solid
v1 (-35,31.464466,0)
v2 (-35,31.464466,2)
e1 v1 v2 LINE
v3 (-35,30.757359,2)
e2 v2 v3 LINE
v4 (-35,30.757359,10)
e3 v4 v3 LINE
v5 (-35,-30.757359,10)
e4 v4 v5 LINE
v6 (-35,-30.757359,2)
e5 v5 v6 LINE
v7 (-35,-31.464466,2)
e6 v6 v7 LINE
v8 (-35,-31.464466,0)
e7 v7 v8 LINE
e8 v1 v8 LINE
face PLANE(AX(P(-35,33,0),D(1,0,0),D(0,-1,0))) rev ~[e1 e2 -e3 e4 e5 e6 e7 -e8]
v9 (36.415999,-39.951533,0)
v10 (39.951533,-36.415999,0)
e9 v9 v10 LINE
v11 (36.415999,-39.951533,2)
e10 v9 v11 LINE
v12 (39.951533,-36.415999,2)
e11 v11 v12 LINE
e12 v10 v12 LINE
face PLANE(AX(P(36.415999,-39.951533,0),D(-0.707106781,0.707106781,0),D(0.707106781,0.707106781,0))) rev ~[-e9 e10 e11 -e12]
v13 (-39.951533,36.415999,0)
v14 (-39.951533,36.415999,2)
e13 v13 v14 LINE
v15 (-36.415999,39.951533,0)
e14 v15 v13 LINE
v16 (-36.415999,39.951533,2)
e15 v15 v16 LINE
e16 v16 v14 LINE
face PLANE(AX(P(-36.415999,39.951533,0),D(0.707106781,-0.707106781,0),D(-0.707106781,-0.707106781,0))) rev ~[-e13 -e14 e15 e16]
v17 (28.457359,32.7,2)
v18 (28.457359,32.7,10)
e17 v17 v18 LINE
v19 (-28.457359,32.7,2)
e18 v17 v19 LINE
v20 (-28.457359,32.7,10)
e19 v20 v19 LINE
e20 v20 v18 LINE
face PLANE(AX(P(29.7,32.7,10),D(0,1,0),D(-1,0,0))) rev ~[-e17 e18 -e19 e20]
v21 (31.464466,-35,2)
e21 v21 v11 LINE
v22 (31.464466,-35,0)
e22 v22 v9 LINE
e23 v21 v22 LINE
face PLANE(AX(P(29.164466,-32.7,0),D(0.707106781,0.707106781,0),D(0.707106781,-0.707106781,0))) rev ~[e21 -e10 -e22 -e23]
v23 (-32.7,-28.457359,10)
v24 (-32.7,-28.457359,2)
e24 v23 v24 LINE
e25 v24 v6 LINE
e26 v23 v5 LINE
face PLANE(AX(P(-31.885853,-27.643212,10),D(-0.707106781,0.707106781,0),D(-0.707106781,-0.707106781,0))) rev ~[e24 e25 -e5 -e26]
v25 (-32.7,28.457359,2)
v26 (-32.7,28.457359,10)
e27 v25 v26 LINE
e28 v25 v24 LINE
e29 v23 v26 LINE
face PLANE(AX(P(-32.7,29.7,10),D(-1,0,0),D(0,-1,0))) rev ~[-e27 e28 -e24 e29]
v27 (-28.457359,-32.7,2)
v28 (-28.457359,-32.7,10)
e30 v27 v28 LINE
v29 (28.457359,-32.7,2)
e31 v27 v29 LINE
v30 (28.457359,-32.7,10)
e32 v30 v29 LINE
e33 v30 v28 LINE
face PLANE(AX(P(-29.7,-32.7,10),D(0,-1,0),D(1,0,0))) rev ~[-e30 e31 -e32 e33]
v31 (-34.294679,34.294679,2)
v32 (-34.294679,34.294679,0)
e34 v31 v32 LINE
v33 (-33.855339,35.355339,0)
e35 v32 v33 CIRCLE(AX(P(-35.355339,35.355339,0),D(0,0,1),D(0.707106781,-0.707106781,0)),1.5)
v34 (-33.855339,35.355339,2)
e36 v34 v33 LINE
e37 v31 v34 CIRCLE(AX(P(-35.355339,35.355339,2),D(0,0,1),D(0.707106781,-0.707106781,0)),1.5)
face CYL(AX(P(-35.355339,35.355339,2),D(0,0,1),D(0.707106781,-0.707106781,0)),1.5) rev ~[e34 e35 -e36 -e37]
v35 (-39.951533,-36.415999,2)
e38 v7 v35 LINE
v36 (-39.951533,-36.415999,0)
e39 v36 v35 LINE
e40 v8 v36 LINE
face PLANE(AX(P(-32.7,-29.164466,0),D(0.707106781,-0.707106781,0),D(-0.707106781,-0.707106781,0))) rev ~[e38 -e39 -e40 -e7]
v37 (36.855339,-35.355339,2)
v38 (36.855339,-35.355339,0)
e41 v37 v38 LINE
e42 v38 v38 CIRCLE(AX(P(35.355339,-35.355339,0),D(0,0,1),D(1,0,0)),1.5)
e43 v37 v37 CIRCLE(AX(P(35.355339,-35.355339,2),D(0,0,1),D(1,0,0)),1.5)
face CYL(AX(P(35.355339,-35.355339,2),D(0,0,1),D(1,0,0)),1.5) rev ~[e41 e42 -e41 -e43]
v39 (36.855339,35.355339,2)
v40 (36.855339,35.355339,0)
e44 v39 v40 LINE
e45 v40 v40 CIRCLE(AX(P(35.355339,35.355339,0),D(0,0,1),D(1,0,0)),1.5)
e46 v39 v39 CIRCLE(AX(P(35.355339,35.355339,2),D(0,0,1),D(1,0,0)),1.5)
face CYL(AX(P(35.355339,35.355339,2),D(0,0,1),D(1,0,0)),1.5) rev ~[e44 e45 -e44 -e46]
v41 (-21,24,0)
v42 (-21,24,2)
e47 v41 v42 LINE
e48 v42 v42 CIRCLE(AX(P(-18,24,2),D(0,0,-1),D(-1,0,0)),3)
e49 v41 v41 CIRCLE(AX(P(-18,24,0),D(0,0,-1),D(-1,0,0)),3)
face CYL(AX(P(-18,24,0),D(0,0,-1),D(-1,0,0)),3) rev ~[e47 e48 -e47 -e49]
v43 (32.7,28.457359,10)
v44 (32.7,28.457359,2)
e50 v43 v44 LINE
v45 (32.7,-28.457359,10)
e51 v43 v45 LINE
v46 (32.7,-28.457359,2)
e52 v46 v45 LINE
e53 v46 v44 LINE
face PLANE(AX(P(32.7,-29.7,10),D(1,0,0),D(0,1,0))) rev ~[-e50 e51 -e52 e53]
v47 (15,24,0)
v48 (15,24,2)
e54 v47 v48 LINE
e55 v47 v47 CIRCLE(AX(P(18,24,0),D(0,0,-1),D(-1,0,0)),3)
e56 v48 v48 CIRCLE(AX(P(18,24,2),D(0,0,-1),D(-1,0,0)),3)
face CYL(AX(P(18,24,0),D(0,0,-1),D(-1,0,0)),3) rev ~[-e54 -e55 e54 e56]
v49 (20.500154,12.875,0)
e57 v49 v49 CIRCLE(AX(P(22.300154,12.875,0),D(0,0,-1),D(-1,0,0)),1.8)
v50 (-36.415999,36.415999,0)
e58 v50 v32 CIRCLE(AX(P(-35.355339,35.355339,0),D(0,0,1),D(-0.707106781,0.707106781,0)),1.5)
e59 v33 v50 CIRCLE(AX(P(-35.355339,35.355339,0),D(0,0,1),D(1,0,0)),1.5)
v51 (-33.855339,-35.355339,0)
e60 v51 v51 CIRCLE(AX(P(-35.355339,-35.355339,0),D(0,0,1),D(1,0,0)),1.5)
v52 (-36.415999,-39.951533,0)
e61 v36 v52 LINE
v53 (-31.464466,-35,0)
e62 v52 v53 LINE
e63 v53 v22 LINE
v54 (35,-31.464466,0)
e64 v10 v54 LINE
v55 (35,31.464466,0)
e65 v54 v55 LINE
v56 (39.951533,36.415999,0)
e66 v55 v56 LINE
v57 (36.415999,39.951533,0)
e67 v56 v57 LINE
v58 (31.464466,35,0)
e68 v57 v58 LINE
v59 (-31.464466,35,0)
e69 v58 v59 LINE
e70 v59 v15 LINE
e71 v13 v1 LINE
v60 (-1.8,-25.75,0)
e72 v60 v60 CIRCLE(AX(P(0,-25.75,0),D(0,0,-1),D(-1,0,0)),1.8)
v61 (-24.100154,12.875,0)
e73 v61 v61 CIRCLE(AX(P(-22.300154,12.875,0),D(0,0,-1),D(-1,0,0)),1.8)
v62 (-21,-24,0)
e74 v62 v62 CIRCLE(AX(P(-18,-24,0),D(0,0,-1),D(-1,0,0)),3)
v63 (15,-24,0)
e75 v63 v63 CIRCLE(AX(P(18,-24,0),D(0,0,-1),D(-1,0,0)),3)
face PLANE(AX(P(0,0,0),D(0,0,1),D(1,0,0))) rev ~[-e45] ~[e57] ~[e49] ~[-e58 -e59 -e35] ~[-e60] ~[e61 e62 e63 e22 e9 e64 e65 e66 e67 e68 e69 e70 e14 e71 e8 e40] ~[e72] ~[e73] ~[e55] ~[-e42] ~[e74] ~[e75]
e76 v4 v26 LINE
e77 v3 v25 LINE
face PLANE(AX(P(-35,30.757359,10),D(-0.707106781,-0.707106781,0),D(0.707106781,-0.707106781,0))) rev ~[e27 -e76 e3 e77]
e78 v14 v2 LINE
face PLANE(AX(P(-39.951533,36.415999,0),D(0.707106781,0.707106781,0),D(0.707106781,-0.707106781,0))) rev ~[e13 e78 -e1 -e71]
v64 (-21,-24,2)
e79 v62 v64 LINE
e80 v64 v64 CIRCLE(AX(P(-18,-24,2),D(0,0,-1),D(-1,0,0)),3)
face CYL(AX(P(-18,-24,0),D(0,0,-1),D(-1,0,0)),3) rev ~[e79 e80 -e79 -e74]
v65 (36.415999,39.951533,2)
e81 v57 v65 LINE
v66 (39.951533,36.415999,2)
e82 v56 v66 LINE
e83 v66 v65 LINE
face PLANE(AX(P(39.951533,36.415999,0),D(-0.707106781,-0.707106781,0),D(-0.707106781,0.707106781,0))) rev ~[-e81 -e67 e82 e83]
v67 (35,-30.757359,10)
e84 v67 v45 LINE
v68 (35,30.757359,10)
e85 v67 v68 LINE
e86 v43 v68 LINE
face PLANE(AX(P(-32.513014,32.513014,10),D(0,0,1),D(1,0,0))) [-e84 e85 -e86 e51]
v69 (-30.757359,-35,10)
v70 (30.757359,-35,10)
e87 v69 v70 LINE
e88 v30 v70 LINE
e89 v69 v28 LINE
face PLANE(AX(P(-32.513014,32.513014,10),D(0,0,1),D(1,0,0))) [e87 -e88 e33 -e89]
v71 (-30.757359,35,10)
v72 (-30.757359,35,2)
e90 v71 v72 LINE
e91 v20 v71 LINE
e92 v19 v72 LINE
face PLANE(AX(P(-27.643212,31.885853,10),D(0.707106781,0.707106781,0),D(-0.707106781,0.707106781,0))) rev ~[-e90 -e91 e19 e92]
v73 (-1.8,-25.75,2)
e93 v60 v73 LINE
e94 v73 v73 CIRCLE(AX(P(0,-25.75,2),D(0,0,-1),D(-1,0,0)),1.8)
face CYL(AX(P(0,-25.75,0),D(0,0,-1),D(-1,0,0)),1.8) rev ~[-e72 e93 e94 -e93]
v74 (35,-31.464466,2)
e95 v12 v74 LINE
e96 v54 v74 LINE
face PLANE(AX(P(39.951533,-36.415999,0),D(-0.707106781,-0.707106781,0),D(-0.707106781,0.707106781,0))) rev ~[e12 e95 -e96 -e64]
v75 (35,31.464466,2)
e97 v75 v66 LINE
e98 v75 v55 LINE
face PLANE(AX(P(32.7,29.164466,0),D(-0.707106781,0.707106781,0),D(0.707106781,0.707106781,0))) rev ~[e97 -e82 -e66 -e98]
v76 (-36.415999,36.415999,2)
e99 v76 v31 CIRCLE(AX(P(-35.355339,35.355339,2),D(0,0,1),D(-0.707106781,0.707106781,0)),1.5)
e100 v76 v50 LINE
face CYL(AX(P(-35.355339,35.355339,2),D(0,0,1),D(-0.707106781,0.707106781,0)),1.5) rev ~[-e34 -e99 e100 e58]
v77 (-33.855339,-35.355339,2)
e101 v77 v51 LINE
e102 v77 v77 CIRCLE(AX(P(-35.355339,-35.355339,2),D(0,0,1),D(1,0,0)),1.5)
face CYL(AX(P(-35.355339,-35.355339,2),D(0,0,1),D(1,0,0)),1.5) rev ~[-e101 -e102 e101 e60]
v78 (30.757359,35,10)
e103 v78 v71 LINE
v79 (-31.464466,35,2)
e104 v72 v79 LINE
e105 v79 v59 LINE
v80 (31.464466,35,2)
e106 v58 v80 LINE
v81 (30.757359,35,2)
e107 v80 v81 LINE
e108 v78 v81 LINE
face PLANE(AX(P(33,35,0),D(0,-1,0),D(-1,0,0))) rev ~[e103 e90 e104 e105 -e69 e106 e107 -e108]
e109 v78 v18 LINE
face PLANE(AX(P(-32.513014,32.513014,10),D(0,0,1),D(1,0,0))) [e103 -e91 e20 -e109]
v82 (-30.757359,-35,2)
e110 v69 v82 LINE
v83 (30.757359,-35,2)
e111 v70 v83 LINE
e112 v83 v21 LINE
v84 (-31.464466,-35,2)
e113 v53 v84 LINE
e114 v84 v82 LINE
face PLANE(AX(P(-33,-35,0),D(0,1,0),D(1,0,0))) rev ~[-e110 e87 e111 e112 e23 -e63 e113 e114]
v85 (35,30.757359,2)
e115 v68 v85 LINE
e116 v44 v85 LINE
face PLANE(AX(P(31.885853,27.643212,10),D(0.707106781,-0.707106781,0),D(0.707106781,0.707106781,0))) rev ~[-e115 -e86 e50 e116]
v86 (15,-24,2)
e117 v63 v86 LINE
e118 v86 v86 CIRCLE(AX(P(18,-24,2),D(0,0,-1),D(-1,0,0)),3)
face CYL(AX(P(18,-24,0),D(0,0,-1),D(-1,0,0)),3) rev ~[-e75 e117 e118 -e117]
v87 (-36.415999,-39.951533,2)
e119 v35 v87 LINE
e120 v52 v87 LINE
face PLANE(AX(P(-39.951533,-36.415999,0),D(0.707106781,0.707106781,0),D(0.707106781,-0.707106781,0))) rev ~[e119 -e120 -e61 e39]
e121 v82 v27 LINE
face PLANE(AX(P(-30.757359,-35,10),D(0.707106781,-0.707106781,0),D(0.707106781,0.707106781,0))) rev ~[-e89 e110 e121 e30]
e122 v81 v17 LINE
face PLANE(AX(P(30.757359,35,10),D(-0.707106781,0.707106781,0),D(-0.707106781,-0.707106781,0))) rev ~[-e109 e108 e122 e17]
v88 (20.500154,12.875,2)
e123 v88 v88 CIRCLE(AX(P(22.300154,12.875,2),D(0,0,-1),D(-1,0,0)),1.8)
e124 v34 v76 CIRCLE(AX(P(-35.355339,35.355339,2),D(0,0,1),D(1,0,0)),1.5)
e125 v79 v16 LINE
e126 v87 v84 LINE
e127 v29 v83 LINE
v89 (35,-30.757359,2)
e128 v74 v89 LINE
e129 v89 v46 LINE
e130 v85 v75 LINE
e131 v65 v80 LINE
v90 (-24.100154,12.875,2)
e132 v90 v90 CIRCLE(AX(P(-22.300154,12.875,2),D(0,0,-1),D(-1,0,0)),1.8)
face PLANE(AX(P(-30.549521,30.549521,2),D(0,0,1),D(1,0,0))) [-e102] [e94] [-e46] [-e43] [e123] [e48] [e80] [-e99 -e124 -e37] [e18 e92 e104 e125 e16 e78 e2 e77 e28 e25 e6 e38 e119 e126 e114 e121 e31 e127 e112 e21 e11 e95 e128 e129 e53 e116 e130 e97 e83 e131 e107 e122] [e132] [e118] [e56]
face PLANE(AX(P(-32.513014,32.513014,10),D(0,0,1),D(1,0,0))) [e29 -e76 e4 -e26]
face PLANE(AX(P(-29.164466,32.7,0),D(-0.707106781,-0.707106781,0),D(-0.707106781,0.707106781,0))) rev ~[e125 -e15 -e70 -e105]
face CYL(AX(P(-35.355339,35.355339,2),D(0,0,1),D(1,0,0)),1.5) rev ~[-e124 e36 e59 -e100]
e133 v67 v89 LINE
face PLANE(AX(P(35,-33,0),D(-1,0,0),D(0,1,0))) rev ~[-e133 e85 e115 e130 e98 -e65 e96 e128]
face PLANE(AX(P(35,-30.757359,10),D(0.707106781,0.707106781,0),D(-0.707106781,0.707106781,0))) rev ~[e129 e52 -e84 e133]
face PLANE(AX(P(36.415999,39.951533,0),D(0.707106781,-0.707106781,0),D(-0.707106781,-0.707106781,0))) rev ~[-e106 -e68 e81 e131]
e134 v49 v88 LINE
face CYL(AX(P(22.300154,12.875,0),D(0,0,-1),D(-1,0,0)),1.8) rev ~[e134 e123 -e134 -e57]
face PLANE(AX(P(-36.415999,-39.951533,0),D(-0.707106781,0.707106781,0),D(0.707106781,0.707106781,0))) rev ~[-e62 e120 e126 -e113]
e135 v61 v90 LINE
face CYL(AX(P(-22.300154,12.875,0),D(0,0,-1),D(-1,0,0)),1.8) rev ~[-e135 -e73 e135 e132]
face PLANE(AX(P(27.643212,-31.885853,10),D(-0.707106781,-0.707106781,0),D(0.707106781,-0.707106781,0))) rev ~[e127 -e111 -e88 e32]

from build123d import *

# Parameters (mm, degrees)
EXTRUDE_1_DEPTH     = 10
CUT_EXTRUDE_1_DEPTH = 8
CUT_EXTRUDE_2_REACH = 52.498
SKETCH_3_R          = 1.8
SKETCH_4_R          = 3
CUT_EXTRUDE_3_DEPTH = 51.497524692
EXTRUDE_START       = -10
EXTRUDE_2_DEPTH     = 10
CUT_EXTRUDE_4_DEPTH = 8
CUT_EXTRUDE_5_REACH = 59.064
SKETCH_7_R          = 1.5


with BuildPart() as part:
    # 草图1 → 凸台-拉伸1 (new body)
    with BuildSketch(Plane.XY):
        with BuildLine():
            Line((-33, -35), (33, -35))
            ThreePointArc((33, -35), (34.414213562, -34.414213562), (35, -33))
            Line((35, -33), (35, 33))
            ThreePointArc((35, 33), (34.414213562, 34.414213562), (33, 35))
            Line((33, 35), (-33, 35))
            ThreePointArc((-33, 35), (-34.414213562, 34.414213562), (-35, 33))
            Line((-35, 33), (-35, -33))
            ThreePointArc((-35, -33), (-34.414213562, -34.414213562), (-33, -35))
        make_face()
    extrude(amount=EXTRUDE_1_DEPTH)

    # 草图2 → 切除-拉伸1 (cut)
    with BuildSketch(Plane.XY.offset(10)):
        with BuildLine():
            Line((-29.7, -32.7), (29.7, -32.7))
            ThreePointArc((29.7, -32.7), (31.821320344, -31.821320344), (32.7, -29.7))
            Line((32.7, -29.7), (32.7, 29.7))
            ThreePointArc((32.7, 29.7), (31.821320344, 31.821320344), (29.7, 32.7))
            Line((29.7, 32.7), (-29.7, 32.7))
            ThreePointArc((-29.7, 32.7), (-31.821320344, 31.821320344), (-32.7, 29.7))
            Line((-32.7, 29.7), (-32.7, -29.7))
            ThreePointArc((-32.7, -29.7), (-31.821320344, -31.821320344), (-29.7, -32.7))
        make_face()
    extrude(amount=-CUT_EXTRUDE_1_DEPTH, mode=Mode.SUBTRACT)

    # 草图3 → 切除-拉伸2 (cut, up to next)
    with BuildSketch(Plane(origin=(0, 0, 0), x_dir=(-1, 0, 0), z_dir=(0, 0, -1)), mode=Mode.PRIVATE) as cut_extrude_2_sk1:
        with Locations((-22.300154147, 12.875)):
            Circle(SKETCH_3_R)
    cut_extrude_2_tool1 = extrude(cut_extrude_2_sk1.sketch, amount=-CUT_EXTRUDE_2_REACH, mode=Mode.PRIVATE) & part.part
    # 草图3 → 切除-拉伸2 (cut, up to next)
    with BuildSketch(Plane(origin=(0, 0, 0), x_dir=(-1, 0, 0), z_dir=(0, 0, -1)), mode=Mode.PRIVATE) as cut_extrude_2_sk2:
        with Locations((22.300154147, 12.875)):
            Circle(SKETCH_3_R)
    cut_extrude_2_tool2 = extrude(cut_extrude_2_sk2.sketch, amount=-CUT_EXTRUDE_2_REACH, mode=Mode.PRIVATE) & part.part
    # 草图3 → 切除-拉伸2 (cut, up to next)
    with BuildSketch(Plane(origin=(0, 0, 0), x_dir=(-1, 0, 0), z_dir=(0, 0, -1)), mode=Mode.PRIVATE) as cut_extrude_2_sk3:
        with Locations((0, -25.75)):
            Circle(SKETCH_3_R)
    cut_extrude_2_tool3 = extrude(cut_extrude_2_sk3.sketch, amount=-CUT_EXTRUDE_2_REACH, mode=Mode.PRIVATE) & part.part
    add(cut_extrude_2_tool1.solids().sort_by_distance((22.300154, 12.875, 0))[0], mode=Mode.SUBTRACT)
    add(cut_extrude_2_tool2.solids().sort_by_distance((-22.300154, 12.875, 0))[0], mode=Mode.SUBTRACT)
    add(cut_extrude_2_tool3.solids().sort_by_distance((0, -25.75, 0))[0], mode=Mode.SUBTRACT)

    # 草图4 → 切除-拉伸3 (cut, through all)
    with BuildSketch(Plane(origin=(0, 0, 0), x_dir=(-1, 0, 0), z_dir=(0, 0, -1))):
        with Locations((-18, 24)):
            Circle(SKETCH_4_R)
        with Locations((18, 24)):
            Circle(SKETCH_4_R)
        with Locations((-18, -24)):
            Circle(SKETCH_4_R)
        with Locations((18, -24)):
            Circle(SKETCH_4_R)
    extrude(amount=-CUT_EXTRUDE_3_DEPTH, mode=Mode.SUBTRACT)

    # 草图5 → 凸台-拉伸2 (add)
    with BuildSketch(Plane.XY.offset(10).offset(EXTRUDE_START)):
        with BuildLine():
            Line((-29.164466094, 32.7), (-31.464466094, 35))
            Line((-31.464466094, 35), (-33, 35))
            ThreePointArc((-33, 35), (-34.414213562, 34.414213562), (-35, 33))
            Line((-35, 33), (-35, 31.464466094))
            Line((-35, 31.464466094), (-32.7, 29.164466094))
            Line((-32.7, 29.164466094), (-32.7, 29.7))
            ThreePointArc((-32.7, 29.7), (-31.821320344, 31.821320344), (-29.7, 32.7))
            Line((-29.7, 32.7), (-29.164466094, 32.7))
        make_face()
        with BuildLine():
            Line((-33, 35), (-31.464466094, 35))
            Line((-31.464466094, 35), (-32.646446609, 36.181980515))
            Line((-32.646446609, 36.181980515), (-36.415999231, 39.951533137))
            Line((-36.415999231, 39.951533137), (-39.951533137, 36.415999231))
            Line((-39.951533137, 36.415999231), (-36.181980515, 32.646446609))
            Line((-36.181980515, 32.646446609), (-35, 31.464466094))
            Line((-35, 31.464466094), (-35, 33))
            ThreePointArc((-35, 33), (-34.414213562, 34.414213562), (-33, 35))
        make_face()
        with BuildLine():
            ThreePointArc((35, 33), (34.414213562, 34.414213562), (33, 35))
            Line((33, 35), (31.464466094, 35))
            Line((31.464466094, 35), (29.164466094, 32.7))
            Line((29.164466094, 32.7), (29.7, 32.7))
            ThreePointArc((29.7, 32.7), (31.821320344, 31.821320344), (32.7, 29.7))
            Line((32.7, 29.7), (32.7, 29.164466094))
            Line((32.7, 29.164466094), (35, 31.464466094))
            Line((35, 31.464466094), (35, 33))
        make_face()
        with BuildLine():
            Line((31.464466094, 35), (33, 35))
            ThreePointArc((33, 35), (34.414213562, 34.414213562), (35, 33))
            Line((35, 33), (35, 31.464466094))
            Line((35, 31.464466094), (36.181980515, 32.646446609))
            Line((36.181980515, 32.646446609), (39.951533137, 36.415999231))
            Line((39.951533137, 36.415999231), (36.415999231, 39.951533137))
            Line((36.415999231, 39.951533137), (32.646446609, 36.181980515))
            Line((32.646446609, 36.181980515), (31.464466094, 35))
        make_face()
        with BuildLine():
            Line((36.181980515, -32.646446609), (35, -31.464466094))
            Line((35, -31.464466094), (35, -33))
            ThreePointArc((35, -33), (34.414213562, -34.414213562), (33, -35))
            Line((33, -35), (31.464466094, -35))
            Line((31.464466094, -35), (32.646446609, -36.181980515))
            Line((32.646446609, -36.181980515), (36.415999231, -39.951533137))
            Line((36.415999231, -39.951533137), (39.951533137, -36.415999231))
            Line((39.951533137, -36.415999231), (36.181980515, -32.646446609))
        make_face()
        with BuildLine():
            Line((35, -33), (35, -31.464466094))
            Line((35, -31.464466094), (32.7, -29.164466094))
            Line((32.7, -29.164466094), (32.7, -29.7))
            ThreePointArc((32.7, -29.7), (31.821320344, -31.821320344), (29.7, -32.7))
            Line((29.7, -32.7), (29.164466094, -32.7))
            Line((29.164466094, -32.7), (31.464466094, -35))
            Line((31.464466094, -35), (33, -35))
            ThreePointArc((33, -35), (34.414213562, -34.414213562), (35, -33))
        make_face()
        with BuildLine():
            Line((-35, -33), (-35, -31.464466094))
            Line((-35, -31.464466094), (-36.181980515, -32.646446609))
            Line((-36.181980515, -32.646446609), (-39.951533137, -36.415999231))
            Line((-39.951533137, -36.415999231), (-36.415999231, -39.951533137))
            Line((-36.415999231, -39.951533137), (-32.646446609, -36.181980515))
            Line((-32.646446609, -36.181980515), (-31.464466094, -35))
            Line((-31.464466094, -35), (-33, -35))
            ThreePointArc((-33, -35), (-34.414213562, -34.414213562), (-35, -33))
        make_face()
        with BuildLine():
            Line((-32.7, -29.164466094), (-35, -31.464466094))
            Line((-35, -31.464466094), (-35, -33))
            ThreePointArc((-35, -33), (-34.414213562, -34.414213562), (-33, -35))
            Line((-33, -35), (-31.464466094, -35))
            Line((-31.464466094, -35), (-29.164466094, -32.7))
            Line((-29.164466094, -32.7), (-29.7, -32.7))
            ThreePointArc((-29.7, -32.7), (-31.821320344, -31.821320344), (-32.7, -29.7))
            Line((-32.7, -29.7), (-32.7, -29.164466094))
        make_face()
    extrude(amount=EXTRUDE_2_DEPTH)

    # 草图6 → 切除-拉伸4 (cut)
    with BuildSketch(Plane.XY.offset(10)):
        with BuildLine():
            Line((-30.757359313, -35), (-28.457359313, -32.7))
            Line((-28.457359313, -32.7), (-29.7, -32.7))
            ThreePointArc((-29.7, -32.7), (-31.821320344, -31.821320344), (-32.7, -29.7))
            Line((-32.7, -29.7), (-32.7, -28.457359313))
            Line((-32.7, -28.457359313), (-35, -30.757359313))
            Line((-35, -30.757359313), (-35, -31.464466094))
            Line((-35, -31.464466094), (-39.951533137, -36.415999231))
            Line((-39.951533137, -36.415999231), (-36.415999231, -39.951533137))
            Line((-36.415999231, -39.951533137), (-31.464466094, -35))
            Line((-31.464466094, -35), (-30.757359313, -35))
        make_face()
        with BuildLine():
            Line((-28.457359313, -32.7), (-28.257359313, -32.5))
            Line((-28.257359313, -32.5), (-27.64321207, -31.885852757))
            Line((-27.64321207, -31.885852757), (-31.885852757, -27.64321207))
            Line((-31.885852757, -27.64321207), (-32.5, -28.257359313))
            Line((-32.5, -28.257359313), (-32.7, -28.457359313))
            Line((-32.7, -28.457359313), (-32.7, -29.7))
            ThreePointArc((-32.7, -29.7), (-31.821320344, -31.821320344), (-29.7, -32.7))
            Line((-29.7, -32.7), (-28.457359313, -32.7))
        make_face()
        with BuildLine():
            Line((29.7, -32.7), (28.457359313, -32.7))
            Line((28.457359313, -32.7), (30.757359313, -35))
            Line((30.757359313, -35), (31.464466094, -35))
            Line((31.464466094, -35), (36.415999231, -39.951533137))
            Line((36.415999231, -39.951533137), (39.951533137, -36.415999231))
            Line((39.951533137, -36.415999231), (35, -31.464466094))
            Line((35, -31.464466094), (35, -30.757359313))
            Line((35, -30.757359313), (32.7, -28.457359313))
            Line((32.7, -28.457359313), (32.7, -29.7))
            ThreePointArc((32.7, -29.7), (31.821320344, -31.821320344), (29.7, -32.7))
        make_face()
        with BuildLine():
            Line((27.64321207, -31.885852757), (28.257359313, -32.5))
            Line((28.257359313, -32.5), (28.457359313, -32.7))
            Line((28.457359313, -32.7), (29.7, -32.7))
            ThreePointArc((29.7, -32.7), (31.821320344, -31.821320344), (32.7, -29.7))
            Line((32.7, -29.7), (32.7, -28.457359313))
            Line((32.7, -28.457359313), (32.5, -28.257359313))
            Line((32.5, -28.257359313), (31.885852757, -27.64321207))
            Line((31.885852757, -27.64321207), (27.64321207, -31.885852757))
        make_face()
        with BuildLine():
            Line((32.7, 29.7), (32.7, 28.457359313))
            Line((32.7, 28.457359313), (35, 30.757359313))
            Line((35, 30.757359313), (35, 31.464466094))
            Line((35, 31.464466094), (39.951533137, 36.415999231))
            Line((39.951533137, 36.415999231), (36.415999231, 39.951533137))
            Line((36.415999231, 39.951533137), (31.464466094, 35))
            Line((31.464466094, 35), (30.757359313, 35))
            Line((30.757359313, 35), (28.457359313, 32.7))
            Line((28.457359313, 32.7), (29.7, 32.7))
            ThreePointArc((29.7, 32.7), (31.821320344, 31.821320344), (32.7, 29.7))
        make_face()
        with BuildLine():
            Line((31.885852757, 27.64321207), (32.5, 28.257359313))
            Line((32.5, 28.257359313), (32.7, 28.457359313))
            Line((32.7, 28.457359313), (32.7, 29.7))
            ThreePointArc((32.7, 29.7), (31.821320344, 31.821320344), (29.7, 32.7))
            Line((29.7, 32.7), (28.457359313, 32.7))
            Line((28.457359313, 32.7), (28.257359313, 32.5))
            Line((28.257359313, 32.5), (27.64321207, 31.885852757))
            Line((27.64321207, 31.885852757), (31.885852757, 27.64321207))
        make_face()
        with BuildLine():
            Line((-32.7, 28.457359313), (-32.5, 28.257359313))
            Line((-32.5, 28.257359313), (-31.885852757, 27.64321207))
            Line((-31.885852757, 27.64321207), (-27.64321207, 31.885852757))
            Line((-27.64321207, 31.885852757), (-28.257359313, 32.5))
            Line((-28.257359313, 32.5), (-28.457359313, 32.7))
            Line((-28.457359313, 32.7), (-29.7, 32.7))
            ThreePointArc((-29.7, 32.7), (-31.821320344, 31.821320344), (-32.7, 29.7))
            Line((-32.7, 29.7), (-32.7, 28.457359313))
        make_face()
        with BuildLine():
            Line((-35, 30.757359313), (-32.7, 28.457359313))
            Line((-32.7, 28.457359313), (-32.7, 29.7))
            ThreePointArc((-32.7, 29.7), (-31.821320344, 31.821320344), (-29.7, 32.7))
            Line((-29.7, 32.7), (-28.457359313, 32.7))
            Line((-28.457359313, 32.7), (-30.757359313, 35))
            Line((-30.757359313, 35), (-31.464466094, 35))
            Line((-31.464466094, 35), (-36.415999231, 39.951533137))
            Line((-36.415999231, 39.951533137), (-39.951533137, 36.415999231))
            Line((-39.951533137, 36.415999231), (-35, 31.464466094))
            Line((-35, 31.464466094), (-35, 30.757359313))
        make_face()
    extrude(amount=-CUT_EXTRUDE_4_DEPTH, mode=Mode.SUBTRACT)

    # 草图7 → 切除-拉伸5 (cut, up to next)
    with BuildSketch(Plane.XY.offset(2), mode=Mode.PRIVATE) as cut_extrude_5_sk1:
        with BuildLine():
            ThreePointArc((-36.415999231, 36.415999231), (-36.415999231, 34.294678888), (-34.294678888, 34.294678888))
            Line((-34.294678888, 34.294678888), (-36.415999231, 36.415999231))
        make_face()
    cut_extrude_5_tool1 = extrude(cut_extrude_5_sk1.sketch, amount=-CUT_EXTRUDE_5_REACH, mode=Mode.PRIVATE) & part.part
    # 草图7 → 切除-拉伸5 (cut, up to next)
    with BuildSketch(Plane.XY.offset(2), mode=Mode.PRIVATE) as cut_extrude_5_sk2:
        with BuildLine():
            Line((-36.415999231, 36.415999231), (-34.294678888, 34.294678888))
            ThreePointArc((-34.294678888, 34.294678888), (-33.969519761, 34.781313911), (-33.855339059, 35.355339059))
            ThreePointArc((-33.855339059, 35.355339059), (-34.781313911, 36.741158358), (-36.415999231, 36.415999231))
        make_face()
    cut_extrude_5_tool2 = extrude(cut_extrude_5_sk2.sketch, amount=-CUT_EXTRUDE_5_REACH, mode=Mode.PRIVATE) & part.part
    # 草图7 → 切除-拉伸5 (cut, up to next)
    with BuildSketch(Plane.XY.offset(2), mode=Mode.PRIVATE) as cut_extrude_5_sk3:
        with BuildLine():
            ThreePointArc((-36.415999231, 36.415999231), (-36.415999231, 34.294678888), (-34.294678888, 34.294678888))
            Line((-34.294678888, 34.294678888), (-36.415999231, 36.415999231))
        make_face()
    cut_extrude_5_tool3 = extrude(cut_extrude_5_sk3.sketch, amount=-CUT_EXTRUDE_5_REACH, mode=Mode.PRIVATE) & part.part
    # 草图7 → 切除-拉伸5 (cut, up to next)
    with BuildSketch(Plane.XY.offset(2), mode=Mode.PRIVATE) as cut_extrude_5_sk4:
        with BuildLine():
            Line((-36.415999231, 36.415999231), (-34.294678888, 34.294678888))
            ThreePointArc((-34.294678888, 34.294678888), (-33.969519761, 34.781313911), (-33.855339059, 35.355339059))
            ThreePointArc((-33.855339059, 35.355339059), (-34.781313911, 36.741158358), (-36.415999231, 36.415999231))
        make_face()
    cut_extrude_5_tool4 = extrude(cut_extrude_5_sk4.sketch, amount=-CUT_EXTRUDE_5_REACH, mode=Mode.PRIVATE) & part.part
    # 草图7 → 切除-拉伸5 (cut, up to next)
    with BuildSketch(Plane.XY.offset(2), mode=Mode.PRIVATE) as cut_extrude_5_sk5:
        with Locations((35.355339059, 35.355339059)):
            Circle(SKETCH_7_R)
    cut_extrude_5_tool5 = extrude(cut_extrude_5_sk5.sketch, amount=-CUT_EXTRUDE_5_REACH, mode=Mode.PRIVATE) & part.part
    # 草图7 → 切除-拉伸5 (cut, up to next)
    with BuildSketch(Plane.XY.offset(2), mode=Mode.PRIVATE) as cut_extrude_5_sk6:
        with Locations((35.355339059, -35.355339059)):
            Circle(SKETCH_7_R)
    cut_extrude_5_tool6 = extrude(cut_extrude_5_sk6.sketch, amount=-CUT_EXTRUDE_5_REACH, mode=Mode.PRIVATE) & part.part
    # 草图7 → 切除-拉伸5 (cut, up to next)
    with BuildSketch(Plane.XY.offset(2), mode=Mode.PRIVATE) as cut_extrude_5_sk7:
        with Locations((-35.355339059, -35.355339059)):
            Circle(SKETCH_7_R)
    cut_extrude_5_tool7 = extrude(cut_extrude_5_sk7.sketch, amount=-CUT_EXTRUDE_5_REACH, mode=Mode.PRIVATE) & part.part
    add(cut_extrude_5_tool1.solids().sort_by_distance((-35.805497, 34.905181, 2))[0], mode=Mode.SUBTRACT)
    add(cut_extrude_5_tool2.solids().sort_by_distance((-34.905181, 35.805497, 2))[0], mode=Mode.SUBTRACT)
    add(cut_extrude_5_tool3.solids().sort_by_distance((-35.805497, 34.905181, 2))[0], mode=Mode.SUBTRACT)
    add(cut_extrude_5_tool4.solids().sort_by_distance((-34.905181, 35.805497, 2))[0], mode=Mode.SUBTRACT)
    add(cut_extrude_5_tool5.solids().sort_by_distance((35.355339, 35.355339, 2))[0], mode=Mode.SUBTRACT)
    add(cut_extrude_5_tool6.solids().sort_by_distance((35.355339, -35.355339, 2))[0], mode=Mode.SUBTRACT)
    add(cut_extrude_5_tool7.solids().sort_by_distance((-35.355339, -35.355339, 2))[0], mode=Mode.SUBTRACT)


solid = part.part
